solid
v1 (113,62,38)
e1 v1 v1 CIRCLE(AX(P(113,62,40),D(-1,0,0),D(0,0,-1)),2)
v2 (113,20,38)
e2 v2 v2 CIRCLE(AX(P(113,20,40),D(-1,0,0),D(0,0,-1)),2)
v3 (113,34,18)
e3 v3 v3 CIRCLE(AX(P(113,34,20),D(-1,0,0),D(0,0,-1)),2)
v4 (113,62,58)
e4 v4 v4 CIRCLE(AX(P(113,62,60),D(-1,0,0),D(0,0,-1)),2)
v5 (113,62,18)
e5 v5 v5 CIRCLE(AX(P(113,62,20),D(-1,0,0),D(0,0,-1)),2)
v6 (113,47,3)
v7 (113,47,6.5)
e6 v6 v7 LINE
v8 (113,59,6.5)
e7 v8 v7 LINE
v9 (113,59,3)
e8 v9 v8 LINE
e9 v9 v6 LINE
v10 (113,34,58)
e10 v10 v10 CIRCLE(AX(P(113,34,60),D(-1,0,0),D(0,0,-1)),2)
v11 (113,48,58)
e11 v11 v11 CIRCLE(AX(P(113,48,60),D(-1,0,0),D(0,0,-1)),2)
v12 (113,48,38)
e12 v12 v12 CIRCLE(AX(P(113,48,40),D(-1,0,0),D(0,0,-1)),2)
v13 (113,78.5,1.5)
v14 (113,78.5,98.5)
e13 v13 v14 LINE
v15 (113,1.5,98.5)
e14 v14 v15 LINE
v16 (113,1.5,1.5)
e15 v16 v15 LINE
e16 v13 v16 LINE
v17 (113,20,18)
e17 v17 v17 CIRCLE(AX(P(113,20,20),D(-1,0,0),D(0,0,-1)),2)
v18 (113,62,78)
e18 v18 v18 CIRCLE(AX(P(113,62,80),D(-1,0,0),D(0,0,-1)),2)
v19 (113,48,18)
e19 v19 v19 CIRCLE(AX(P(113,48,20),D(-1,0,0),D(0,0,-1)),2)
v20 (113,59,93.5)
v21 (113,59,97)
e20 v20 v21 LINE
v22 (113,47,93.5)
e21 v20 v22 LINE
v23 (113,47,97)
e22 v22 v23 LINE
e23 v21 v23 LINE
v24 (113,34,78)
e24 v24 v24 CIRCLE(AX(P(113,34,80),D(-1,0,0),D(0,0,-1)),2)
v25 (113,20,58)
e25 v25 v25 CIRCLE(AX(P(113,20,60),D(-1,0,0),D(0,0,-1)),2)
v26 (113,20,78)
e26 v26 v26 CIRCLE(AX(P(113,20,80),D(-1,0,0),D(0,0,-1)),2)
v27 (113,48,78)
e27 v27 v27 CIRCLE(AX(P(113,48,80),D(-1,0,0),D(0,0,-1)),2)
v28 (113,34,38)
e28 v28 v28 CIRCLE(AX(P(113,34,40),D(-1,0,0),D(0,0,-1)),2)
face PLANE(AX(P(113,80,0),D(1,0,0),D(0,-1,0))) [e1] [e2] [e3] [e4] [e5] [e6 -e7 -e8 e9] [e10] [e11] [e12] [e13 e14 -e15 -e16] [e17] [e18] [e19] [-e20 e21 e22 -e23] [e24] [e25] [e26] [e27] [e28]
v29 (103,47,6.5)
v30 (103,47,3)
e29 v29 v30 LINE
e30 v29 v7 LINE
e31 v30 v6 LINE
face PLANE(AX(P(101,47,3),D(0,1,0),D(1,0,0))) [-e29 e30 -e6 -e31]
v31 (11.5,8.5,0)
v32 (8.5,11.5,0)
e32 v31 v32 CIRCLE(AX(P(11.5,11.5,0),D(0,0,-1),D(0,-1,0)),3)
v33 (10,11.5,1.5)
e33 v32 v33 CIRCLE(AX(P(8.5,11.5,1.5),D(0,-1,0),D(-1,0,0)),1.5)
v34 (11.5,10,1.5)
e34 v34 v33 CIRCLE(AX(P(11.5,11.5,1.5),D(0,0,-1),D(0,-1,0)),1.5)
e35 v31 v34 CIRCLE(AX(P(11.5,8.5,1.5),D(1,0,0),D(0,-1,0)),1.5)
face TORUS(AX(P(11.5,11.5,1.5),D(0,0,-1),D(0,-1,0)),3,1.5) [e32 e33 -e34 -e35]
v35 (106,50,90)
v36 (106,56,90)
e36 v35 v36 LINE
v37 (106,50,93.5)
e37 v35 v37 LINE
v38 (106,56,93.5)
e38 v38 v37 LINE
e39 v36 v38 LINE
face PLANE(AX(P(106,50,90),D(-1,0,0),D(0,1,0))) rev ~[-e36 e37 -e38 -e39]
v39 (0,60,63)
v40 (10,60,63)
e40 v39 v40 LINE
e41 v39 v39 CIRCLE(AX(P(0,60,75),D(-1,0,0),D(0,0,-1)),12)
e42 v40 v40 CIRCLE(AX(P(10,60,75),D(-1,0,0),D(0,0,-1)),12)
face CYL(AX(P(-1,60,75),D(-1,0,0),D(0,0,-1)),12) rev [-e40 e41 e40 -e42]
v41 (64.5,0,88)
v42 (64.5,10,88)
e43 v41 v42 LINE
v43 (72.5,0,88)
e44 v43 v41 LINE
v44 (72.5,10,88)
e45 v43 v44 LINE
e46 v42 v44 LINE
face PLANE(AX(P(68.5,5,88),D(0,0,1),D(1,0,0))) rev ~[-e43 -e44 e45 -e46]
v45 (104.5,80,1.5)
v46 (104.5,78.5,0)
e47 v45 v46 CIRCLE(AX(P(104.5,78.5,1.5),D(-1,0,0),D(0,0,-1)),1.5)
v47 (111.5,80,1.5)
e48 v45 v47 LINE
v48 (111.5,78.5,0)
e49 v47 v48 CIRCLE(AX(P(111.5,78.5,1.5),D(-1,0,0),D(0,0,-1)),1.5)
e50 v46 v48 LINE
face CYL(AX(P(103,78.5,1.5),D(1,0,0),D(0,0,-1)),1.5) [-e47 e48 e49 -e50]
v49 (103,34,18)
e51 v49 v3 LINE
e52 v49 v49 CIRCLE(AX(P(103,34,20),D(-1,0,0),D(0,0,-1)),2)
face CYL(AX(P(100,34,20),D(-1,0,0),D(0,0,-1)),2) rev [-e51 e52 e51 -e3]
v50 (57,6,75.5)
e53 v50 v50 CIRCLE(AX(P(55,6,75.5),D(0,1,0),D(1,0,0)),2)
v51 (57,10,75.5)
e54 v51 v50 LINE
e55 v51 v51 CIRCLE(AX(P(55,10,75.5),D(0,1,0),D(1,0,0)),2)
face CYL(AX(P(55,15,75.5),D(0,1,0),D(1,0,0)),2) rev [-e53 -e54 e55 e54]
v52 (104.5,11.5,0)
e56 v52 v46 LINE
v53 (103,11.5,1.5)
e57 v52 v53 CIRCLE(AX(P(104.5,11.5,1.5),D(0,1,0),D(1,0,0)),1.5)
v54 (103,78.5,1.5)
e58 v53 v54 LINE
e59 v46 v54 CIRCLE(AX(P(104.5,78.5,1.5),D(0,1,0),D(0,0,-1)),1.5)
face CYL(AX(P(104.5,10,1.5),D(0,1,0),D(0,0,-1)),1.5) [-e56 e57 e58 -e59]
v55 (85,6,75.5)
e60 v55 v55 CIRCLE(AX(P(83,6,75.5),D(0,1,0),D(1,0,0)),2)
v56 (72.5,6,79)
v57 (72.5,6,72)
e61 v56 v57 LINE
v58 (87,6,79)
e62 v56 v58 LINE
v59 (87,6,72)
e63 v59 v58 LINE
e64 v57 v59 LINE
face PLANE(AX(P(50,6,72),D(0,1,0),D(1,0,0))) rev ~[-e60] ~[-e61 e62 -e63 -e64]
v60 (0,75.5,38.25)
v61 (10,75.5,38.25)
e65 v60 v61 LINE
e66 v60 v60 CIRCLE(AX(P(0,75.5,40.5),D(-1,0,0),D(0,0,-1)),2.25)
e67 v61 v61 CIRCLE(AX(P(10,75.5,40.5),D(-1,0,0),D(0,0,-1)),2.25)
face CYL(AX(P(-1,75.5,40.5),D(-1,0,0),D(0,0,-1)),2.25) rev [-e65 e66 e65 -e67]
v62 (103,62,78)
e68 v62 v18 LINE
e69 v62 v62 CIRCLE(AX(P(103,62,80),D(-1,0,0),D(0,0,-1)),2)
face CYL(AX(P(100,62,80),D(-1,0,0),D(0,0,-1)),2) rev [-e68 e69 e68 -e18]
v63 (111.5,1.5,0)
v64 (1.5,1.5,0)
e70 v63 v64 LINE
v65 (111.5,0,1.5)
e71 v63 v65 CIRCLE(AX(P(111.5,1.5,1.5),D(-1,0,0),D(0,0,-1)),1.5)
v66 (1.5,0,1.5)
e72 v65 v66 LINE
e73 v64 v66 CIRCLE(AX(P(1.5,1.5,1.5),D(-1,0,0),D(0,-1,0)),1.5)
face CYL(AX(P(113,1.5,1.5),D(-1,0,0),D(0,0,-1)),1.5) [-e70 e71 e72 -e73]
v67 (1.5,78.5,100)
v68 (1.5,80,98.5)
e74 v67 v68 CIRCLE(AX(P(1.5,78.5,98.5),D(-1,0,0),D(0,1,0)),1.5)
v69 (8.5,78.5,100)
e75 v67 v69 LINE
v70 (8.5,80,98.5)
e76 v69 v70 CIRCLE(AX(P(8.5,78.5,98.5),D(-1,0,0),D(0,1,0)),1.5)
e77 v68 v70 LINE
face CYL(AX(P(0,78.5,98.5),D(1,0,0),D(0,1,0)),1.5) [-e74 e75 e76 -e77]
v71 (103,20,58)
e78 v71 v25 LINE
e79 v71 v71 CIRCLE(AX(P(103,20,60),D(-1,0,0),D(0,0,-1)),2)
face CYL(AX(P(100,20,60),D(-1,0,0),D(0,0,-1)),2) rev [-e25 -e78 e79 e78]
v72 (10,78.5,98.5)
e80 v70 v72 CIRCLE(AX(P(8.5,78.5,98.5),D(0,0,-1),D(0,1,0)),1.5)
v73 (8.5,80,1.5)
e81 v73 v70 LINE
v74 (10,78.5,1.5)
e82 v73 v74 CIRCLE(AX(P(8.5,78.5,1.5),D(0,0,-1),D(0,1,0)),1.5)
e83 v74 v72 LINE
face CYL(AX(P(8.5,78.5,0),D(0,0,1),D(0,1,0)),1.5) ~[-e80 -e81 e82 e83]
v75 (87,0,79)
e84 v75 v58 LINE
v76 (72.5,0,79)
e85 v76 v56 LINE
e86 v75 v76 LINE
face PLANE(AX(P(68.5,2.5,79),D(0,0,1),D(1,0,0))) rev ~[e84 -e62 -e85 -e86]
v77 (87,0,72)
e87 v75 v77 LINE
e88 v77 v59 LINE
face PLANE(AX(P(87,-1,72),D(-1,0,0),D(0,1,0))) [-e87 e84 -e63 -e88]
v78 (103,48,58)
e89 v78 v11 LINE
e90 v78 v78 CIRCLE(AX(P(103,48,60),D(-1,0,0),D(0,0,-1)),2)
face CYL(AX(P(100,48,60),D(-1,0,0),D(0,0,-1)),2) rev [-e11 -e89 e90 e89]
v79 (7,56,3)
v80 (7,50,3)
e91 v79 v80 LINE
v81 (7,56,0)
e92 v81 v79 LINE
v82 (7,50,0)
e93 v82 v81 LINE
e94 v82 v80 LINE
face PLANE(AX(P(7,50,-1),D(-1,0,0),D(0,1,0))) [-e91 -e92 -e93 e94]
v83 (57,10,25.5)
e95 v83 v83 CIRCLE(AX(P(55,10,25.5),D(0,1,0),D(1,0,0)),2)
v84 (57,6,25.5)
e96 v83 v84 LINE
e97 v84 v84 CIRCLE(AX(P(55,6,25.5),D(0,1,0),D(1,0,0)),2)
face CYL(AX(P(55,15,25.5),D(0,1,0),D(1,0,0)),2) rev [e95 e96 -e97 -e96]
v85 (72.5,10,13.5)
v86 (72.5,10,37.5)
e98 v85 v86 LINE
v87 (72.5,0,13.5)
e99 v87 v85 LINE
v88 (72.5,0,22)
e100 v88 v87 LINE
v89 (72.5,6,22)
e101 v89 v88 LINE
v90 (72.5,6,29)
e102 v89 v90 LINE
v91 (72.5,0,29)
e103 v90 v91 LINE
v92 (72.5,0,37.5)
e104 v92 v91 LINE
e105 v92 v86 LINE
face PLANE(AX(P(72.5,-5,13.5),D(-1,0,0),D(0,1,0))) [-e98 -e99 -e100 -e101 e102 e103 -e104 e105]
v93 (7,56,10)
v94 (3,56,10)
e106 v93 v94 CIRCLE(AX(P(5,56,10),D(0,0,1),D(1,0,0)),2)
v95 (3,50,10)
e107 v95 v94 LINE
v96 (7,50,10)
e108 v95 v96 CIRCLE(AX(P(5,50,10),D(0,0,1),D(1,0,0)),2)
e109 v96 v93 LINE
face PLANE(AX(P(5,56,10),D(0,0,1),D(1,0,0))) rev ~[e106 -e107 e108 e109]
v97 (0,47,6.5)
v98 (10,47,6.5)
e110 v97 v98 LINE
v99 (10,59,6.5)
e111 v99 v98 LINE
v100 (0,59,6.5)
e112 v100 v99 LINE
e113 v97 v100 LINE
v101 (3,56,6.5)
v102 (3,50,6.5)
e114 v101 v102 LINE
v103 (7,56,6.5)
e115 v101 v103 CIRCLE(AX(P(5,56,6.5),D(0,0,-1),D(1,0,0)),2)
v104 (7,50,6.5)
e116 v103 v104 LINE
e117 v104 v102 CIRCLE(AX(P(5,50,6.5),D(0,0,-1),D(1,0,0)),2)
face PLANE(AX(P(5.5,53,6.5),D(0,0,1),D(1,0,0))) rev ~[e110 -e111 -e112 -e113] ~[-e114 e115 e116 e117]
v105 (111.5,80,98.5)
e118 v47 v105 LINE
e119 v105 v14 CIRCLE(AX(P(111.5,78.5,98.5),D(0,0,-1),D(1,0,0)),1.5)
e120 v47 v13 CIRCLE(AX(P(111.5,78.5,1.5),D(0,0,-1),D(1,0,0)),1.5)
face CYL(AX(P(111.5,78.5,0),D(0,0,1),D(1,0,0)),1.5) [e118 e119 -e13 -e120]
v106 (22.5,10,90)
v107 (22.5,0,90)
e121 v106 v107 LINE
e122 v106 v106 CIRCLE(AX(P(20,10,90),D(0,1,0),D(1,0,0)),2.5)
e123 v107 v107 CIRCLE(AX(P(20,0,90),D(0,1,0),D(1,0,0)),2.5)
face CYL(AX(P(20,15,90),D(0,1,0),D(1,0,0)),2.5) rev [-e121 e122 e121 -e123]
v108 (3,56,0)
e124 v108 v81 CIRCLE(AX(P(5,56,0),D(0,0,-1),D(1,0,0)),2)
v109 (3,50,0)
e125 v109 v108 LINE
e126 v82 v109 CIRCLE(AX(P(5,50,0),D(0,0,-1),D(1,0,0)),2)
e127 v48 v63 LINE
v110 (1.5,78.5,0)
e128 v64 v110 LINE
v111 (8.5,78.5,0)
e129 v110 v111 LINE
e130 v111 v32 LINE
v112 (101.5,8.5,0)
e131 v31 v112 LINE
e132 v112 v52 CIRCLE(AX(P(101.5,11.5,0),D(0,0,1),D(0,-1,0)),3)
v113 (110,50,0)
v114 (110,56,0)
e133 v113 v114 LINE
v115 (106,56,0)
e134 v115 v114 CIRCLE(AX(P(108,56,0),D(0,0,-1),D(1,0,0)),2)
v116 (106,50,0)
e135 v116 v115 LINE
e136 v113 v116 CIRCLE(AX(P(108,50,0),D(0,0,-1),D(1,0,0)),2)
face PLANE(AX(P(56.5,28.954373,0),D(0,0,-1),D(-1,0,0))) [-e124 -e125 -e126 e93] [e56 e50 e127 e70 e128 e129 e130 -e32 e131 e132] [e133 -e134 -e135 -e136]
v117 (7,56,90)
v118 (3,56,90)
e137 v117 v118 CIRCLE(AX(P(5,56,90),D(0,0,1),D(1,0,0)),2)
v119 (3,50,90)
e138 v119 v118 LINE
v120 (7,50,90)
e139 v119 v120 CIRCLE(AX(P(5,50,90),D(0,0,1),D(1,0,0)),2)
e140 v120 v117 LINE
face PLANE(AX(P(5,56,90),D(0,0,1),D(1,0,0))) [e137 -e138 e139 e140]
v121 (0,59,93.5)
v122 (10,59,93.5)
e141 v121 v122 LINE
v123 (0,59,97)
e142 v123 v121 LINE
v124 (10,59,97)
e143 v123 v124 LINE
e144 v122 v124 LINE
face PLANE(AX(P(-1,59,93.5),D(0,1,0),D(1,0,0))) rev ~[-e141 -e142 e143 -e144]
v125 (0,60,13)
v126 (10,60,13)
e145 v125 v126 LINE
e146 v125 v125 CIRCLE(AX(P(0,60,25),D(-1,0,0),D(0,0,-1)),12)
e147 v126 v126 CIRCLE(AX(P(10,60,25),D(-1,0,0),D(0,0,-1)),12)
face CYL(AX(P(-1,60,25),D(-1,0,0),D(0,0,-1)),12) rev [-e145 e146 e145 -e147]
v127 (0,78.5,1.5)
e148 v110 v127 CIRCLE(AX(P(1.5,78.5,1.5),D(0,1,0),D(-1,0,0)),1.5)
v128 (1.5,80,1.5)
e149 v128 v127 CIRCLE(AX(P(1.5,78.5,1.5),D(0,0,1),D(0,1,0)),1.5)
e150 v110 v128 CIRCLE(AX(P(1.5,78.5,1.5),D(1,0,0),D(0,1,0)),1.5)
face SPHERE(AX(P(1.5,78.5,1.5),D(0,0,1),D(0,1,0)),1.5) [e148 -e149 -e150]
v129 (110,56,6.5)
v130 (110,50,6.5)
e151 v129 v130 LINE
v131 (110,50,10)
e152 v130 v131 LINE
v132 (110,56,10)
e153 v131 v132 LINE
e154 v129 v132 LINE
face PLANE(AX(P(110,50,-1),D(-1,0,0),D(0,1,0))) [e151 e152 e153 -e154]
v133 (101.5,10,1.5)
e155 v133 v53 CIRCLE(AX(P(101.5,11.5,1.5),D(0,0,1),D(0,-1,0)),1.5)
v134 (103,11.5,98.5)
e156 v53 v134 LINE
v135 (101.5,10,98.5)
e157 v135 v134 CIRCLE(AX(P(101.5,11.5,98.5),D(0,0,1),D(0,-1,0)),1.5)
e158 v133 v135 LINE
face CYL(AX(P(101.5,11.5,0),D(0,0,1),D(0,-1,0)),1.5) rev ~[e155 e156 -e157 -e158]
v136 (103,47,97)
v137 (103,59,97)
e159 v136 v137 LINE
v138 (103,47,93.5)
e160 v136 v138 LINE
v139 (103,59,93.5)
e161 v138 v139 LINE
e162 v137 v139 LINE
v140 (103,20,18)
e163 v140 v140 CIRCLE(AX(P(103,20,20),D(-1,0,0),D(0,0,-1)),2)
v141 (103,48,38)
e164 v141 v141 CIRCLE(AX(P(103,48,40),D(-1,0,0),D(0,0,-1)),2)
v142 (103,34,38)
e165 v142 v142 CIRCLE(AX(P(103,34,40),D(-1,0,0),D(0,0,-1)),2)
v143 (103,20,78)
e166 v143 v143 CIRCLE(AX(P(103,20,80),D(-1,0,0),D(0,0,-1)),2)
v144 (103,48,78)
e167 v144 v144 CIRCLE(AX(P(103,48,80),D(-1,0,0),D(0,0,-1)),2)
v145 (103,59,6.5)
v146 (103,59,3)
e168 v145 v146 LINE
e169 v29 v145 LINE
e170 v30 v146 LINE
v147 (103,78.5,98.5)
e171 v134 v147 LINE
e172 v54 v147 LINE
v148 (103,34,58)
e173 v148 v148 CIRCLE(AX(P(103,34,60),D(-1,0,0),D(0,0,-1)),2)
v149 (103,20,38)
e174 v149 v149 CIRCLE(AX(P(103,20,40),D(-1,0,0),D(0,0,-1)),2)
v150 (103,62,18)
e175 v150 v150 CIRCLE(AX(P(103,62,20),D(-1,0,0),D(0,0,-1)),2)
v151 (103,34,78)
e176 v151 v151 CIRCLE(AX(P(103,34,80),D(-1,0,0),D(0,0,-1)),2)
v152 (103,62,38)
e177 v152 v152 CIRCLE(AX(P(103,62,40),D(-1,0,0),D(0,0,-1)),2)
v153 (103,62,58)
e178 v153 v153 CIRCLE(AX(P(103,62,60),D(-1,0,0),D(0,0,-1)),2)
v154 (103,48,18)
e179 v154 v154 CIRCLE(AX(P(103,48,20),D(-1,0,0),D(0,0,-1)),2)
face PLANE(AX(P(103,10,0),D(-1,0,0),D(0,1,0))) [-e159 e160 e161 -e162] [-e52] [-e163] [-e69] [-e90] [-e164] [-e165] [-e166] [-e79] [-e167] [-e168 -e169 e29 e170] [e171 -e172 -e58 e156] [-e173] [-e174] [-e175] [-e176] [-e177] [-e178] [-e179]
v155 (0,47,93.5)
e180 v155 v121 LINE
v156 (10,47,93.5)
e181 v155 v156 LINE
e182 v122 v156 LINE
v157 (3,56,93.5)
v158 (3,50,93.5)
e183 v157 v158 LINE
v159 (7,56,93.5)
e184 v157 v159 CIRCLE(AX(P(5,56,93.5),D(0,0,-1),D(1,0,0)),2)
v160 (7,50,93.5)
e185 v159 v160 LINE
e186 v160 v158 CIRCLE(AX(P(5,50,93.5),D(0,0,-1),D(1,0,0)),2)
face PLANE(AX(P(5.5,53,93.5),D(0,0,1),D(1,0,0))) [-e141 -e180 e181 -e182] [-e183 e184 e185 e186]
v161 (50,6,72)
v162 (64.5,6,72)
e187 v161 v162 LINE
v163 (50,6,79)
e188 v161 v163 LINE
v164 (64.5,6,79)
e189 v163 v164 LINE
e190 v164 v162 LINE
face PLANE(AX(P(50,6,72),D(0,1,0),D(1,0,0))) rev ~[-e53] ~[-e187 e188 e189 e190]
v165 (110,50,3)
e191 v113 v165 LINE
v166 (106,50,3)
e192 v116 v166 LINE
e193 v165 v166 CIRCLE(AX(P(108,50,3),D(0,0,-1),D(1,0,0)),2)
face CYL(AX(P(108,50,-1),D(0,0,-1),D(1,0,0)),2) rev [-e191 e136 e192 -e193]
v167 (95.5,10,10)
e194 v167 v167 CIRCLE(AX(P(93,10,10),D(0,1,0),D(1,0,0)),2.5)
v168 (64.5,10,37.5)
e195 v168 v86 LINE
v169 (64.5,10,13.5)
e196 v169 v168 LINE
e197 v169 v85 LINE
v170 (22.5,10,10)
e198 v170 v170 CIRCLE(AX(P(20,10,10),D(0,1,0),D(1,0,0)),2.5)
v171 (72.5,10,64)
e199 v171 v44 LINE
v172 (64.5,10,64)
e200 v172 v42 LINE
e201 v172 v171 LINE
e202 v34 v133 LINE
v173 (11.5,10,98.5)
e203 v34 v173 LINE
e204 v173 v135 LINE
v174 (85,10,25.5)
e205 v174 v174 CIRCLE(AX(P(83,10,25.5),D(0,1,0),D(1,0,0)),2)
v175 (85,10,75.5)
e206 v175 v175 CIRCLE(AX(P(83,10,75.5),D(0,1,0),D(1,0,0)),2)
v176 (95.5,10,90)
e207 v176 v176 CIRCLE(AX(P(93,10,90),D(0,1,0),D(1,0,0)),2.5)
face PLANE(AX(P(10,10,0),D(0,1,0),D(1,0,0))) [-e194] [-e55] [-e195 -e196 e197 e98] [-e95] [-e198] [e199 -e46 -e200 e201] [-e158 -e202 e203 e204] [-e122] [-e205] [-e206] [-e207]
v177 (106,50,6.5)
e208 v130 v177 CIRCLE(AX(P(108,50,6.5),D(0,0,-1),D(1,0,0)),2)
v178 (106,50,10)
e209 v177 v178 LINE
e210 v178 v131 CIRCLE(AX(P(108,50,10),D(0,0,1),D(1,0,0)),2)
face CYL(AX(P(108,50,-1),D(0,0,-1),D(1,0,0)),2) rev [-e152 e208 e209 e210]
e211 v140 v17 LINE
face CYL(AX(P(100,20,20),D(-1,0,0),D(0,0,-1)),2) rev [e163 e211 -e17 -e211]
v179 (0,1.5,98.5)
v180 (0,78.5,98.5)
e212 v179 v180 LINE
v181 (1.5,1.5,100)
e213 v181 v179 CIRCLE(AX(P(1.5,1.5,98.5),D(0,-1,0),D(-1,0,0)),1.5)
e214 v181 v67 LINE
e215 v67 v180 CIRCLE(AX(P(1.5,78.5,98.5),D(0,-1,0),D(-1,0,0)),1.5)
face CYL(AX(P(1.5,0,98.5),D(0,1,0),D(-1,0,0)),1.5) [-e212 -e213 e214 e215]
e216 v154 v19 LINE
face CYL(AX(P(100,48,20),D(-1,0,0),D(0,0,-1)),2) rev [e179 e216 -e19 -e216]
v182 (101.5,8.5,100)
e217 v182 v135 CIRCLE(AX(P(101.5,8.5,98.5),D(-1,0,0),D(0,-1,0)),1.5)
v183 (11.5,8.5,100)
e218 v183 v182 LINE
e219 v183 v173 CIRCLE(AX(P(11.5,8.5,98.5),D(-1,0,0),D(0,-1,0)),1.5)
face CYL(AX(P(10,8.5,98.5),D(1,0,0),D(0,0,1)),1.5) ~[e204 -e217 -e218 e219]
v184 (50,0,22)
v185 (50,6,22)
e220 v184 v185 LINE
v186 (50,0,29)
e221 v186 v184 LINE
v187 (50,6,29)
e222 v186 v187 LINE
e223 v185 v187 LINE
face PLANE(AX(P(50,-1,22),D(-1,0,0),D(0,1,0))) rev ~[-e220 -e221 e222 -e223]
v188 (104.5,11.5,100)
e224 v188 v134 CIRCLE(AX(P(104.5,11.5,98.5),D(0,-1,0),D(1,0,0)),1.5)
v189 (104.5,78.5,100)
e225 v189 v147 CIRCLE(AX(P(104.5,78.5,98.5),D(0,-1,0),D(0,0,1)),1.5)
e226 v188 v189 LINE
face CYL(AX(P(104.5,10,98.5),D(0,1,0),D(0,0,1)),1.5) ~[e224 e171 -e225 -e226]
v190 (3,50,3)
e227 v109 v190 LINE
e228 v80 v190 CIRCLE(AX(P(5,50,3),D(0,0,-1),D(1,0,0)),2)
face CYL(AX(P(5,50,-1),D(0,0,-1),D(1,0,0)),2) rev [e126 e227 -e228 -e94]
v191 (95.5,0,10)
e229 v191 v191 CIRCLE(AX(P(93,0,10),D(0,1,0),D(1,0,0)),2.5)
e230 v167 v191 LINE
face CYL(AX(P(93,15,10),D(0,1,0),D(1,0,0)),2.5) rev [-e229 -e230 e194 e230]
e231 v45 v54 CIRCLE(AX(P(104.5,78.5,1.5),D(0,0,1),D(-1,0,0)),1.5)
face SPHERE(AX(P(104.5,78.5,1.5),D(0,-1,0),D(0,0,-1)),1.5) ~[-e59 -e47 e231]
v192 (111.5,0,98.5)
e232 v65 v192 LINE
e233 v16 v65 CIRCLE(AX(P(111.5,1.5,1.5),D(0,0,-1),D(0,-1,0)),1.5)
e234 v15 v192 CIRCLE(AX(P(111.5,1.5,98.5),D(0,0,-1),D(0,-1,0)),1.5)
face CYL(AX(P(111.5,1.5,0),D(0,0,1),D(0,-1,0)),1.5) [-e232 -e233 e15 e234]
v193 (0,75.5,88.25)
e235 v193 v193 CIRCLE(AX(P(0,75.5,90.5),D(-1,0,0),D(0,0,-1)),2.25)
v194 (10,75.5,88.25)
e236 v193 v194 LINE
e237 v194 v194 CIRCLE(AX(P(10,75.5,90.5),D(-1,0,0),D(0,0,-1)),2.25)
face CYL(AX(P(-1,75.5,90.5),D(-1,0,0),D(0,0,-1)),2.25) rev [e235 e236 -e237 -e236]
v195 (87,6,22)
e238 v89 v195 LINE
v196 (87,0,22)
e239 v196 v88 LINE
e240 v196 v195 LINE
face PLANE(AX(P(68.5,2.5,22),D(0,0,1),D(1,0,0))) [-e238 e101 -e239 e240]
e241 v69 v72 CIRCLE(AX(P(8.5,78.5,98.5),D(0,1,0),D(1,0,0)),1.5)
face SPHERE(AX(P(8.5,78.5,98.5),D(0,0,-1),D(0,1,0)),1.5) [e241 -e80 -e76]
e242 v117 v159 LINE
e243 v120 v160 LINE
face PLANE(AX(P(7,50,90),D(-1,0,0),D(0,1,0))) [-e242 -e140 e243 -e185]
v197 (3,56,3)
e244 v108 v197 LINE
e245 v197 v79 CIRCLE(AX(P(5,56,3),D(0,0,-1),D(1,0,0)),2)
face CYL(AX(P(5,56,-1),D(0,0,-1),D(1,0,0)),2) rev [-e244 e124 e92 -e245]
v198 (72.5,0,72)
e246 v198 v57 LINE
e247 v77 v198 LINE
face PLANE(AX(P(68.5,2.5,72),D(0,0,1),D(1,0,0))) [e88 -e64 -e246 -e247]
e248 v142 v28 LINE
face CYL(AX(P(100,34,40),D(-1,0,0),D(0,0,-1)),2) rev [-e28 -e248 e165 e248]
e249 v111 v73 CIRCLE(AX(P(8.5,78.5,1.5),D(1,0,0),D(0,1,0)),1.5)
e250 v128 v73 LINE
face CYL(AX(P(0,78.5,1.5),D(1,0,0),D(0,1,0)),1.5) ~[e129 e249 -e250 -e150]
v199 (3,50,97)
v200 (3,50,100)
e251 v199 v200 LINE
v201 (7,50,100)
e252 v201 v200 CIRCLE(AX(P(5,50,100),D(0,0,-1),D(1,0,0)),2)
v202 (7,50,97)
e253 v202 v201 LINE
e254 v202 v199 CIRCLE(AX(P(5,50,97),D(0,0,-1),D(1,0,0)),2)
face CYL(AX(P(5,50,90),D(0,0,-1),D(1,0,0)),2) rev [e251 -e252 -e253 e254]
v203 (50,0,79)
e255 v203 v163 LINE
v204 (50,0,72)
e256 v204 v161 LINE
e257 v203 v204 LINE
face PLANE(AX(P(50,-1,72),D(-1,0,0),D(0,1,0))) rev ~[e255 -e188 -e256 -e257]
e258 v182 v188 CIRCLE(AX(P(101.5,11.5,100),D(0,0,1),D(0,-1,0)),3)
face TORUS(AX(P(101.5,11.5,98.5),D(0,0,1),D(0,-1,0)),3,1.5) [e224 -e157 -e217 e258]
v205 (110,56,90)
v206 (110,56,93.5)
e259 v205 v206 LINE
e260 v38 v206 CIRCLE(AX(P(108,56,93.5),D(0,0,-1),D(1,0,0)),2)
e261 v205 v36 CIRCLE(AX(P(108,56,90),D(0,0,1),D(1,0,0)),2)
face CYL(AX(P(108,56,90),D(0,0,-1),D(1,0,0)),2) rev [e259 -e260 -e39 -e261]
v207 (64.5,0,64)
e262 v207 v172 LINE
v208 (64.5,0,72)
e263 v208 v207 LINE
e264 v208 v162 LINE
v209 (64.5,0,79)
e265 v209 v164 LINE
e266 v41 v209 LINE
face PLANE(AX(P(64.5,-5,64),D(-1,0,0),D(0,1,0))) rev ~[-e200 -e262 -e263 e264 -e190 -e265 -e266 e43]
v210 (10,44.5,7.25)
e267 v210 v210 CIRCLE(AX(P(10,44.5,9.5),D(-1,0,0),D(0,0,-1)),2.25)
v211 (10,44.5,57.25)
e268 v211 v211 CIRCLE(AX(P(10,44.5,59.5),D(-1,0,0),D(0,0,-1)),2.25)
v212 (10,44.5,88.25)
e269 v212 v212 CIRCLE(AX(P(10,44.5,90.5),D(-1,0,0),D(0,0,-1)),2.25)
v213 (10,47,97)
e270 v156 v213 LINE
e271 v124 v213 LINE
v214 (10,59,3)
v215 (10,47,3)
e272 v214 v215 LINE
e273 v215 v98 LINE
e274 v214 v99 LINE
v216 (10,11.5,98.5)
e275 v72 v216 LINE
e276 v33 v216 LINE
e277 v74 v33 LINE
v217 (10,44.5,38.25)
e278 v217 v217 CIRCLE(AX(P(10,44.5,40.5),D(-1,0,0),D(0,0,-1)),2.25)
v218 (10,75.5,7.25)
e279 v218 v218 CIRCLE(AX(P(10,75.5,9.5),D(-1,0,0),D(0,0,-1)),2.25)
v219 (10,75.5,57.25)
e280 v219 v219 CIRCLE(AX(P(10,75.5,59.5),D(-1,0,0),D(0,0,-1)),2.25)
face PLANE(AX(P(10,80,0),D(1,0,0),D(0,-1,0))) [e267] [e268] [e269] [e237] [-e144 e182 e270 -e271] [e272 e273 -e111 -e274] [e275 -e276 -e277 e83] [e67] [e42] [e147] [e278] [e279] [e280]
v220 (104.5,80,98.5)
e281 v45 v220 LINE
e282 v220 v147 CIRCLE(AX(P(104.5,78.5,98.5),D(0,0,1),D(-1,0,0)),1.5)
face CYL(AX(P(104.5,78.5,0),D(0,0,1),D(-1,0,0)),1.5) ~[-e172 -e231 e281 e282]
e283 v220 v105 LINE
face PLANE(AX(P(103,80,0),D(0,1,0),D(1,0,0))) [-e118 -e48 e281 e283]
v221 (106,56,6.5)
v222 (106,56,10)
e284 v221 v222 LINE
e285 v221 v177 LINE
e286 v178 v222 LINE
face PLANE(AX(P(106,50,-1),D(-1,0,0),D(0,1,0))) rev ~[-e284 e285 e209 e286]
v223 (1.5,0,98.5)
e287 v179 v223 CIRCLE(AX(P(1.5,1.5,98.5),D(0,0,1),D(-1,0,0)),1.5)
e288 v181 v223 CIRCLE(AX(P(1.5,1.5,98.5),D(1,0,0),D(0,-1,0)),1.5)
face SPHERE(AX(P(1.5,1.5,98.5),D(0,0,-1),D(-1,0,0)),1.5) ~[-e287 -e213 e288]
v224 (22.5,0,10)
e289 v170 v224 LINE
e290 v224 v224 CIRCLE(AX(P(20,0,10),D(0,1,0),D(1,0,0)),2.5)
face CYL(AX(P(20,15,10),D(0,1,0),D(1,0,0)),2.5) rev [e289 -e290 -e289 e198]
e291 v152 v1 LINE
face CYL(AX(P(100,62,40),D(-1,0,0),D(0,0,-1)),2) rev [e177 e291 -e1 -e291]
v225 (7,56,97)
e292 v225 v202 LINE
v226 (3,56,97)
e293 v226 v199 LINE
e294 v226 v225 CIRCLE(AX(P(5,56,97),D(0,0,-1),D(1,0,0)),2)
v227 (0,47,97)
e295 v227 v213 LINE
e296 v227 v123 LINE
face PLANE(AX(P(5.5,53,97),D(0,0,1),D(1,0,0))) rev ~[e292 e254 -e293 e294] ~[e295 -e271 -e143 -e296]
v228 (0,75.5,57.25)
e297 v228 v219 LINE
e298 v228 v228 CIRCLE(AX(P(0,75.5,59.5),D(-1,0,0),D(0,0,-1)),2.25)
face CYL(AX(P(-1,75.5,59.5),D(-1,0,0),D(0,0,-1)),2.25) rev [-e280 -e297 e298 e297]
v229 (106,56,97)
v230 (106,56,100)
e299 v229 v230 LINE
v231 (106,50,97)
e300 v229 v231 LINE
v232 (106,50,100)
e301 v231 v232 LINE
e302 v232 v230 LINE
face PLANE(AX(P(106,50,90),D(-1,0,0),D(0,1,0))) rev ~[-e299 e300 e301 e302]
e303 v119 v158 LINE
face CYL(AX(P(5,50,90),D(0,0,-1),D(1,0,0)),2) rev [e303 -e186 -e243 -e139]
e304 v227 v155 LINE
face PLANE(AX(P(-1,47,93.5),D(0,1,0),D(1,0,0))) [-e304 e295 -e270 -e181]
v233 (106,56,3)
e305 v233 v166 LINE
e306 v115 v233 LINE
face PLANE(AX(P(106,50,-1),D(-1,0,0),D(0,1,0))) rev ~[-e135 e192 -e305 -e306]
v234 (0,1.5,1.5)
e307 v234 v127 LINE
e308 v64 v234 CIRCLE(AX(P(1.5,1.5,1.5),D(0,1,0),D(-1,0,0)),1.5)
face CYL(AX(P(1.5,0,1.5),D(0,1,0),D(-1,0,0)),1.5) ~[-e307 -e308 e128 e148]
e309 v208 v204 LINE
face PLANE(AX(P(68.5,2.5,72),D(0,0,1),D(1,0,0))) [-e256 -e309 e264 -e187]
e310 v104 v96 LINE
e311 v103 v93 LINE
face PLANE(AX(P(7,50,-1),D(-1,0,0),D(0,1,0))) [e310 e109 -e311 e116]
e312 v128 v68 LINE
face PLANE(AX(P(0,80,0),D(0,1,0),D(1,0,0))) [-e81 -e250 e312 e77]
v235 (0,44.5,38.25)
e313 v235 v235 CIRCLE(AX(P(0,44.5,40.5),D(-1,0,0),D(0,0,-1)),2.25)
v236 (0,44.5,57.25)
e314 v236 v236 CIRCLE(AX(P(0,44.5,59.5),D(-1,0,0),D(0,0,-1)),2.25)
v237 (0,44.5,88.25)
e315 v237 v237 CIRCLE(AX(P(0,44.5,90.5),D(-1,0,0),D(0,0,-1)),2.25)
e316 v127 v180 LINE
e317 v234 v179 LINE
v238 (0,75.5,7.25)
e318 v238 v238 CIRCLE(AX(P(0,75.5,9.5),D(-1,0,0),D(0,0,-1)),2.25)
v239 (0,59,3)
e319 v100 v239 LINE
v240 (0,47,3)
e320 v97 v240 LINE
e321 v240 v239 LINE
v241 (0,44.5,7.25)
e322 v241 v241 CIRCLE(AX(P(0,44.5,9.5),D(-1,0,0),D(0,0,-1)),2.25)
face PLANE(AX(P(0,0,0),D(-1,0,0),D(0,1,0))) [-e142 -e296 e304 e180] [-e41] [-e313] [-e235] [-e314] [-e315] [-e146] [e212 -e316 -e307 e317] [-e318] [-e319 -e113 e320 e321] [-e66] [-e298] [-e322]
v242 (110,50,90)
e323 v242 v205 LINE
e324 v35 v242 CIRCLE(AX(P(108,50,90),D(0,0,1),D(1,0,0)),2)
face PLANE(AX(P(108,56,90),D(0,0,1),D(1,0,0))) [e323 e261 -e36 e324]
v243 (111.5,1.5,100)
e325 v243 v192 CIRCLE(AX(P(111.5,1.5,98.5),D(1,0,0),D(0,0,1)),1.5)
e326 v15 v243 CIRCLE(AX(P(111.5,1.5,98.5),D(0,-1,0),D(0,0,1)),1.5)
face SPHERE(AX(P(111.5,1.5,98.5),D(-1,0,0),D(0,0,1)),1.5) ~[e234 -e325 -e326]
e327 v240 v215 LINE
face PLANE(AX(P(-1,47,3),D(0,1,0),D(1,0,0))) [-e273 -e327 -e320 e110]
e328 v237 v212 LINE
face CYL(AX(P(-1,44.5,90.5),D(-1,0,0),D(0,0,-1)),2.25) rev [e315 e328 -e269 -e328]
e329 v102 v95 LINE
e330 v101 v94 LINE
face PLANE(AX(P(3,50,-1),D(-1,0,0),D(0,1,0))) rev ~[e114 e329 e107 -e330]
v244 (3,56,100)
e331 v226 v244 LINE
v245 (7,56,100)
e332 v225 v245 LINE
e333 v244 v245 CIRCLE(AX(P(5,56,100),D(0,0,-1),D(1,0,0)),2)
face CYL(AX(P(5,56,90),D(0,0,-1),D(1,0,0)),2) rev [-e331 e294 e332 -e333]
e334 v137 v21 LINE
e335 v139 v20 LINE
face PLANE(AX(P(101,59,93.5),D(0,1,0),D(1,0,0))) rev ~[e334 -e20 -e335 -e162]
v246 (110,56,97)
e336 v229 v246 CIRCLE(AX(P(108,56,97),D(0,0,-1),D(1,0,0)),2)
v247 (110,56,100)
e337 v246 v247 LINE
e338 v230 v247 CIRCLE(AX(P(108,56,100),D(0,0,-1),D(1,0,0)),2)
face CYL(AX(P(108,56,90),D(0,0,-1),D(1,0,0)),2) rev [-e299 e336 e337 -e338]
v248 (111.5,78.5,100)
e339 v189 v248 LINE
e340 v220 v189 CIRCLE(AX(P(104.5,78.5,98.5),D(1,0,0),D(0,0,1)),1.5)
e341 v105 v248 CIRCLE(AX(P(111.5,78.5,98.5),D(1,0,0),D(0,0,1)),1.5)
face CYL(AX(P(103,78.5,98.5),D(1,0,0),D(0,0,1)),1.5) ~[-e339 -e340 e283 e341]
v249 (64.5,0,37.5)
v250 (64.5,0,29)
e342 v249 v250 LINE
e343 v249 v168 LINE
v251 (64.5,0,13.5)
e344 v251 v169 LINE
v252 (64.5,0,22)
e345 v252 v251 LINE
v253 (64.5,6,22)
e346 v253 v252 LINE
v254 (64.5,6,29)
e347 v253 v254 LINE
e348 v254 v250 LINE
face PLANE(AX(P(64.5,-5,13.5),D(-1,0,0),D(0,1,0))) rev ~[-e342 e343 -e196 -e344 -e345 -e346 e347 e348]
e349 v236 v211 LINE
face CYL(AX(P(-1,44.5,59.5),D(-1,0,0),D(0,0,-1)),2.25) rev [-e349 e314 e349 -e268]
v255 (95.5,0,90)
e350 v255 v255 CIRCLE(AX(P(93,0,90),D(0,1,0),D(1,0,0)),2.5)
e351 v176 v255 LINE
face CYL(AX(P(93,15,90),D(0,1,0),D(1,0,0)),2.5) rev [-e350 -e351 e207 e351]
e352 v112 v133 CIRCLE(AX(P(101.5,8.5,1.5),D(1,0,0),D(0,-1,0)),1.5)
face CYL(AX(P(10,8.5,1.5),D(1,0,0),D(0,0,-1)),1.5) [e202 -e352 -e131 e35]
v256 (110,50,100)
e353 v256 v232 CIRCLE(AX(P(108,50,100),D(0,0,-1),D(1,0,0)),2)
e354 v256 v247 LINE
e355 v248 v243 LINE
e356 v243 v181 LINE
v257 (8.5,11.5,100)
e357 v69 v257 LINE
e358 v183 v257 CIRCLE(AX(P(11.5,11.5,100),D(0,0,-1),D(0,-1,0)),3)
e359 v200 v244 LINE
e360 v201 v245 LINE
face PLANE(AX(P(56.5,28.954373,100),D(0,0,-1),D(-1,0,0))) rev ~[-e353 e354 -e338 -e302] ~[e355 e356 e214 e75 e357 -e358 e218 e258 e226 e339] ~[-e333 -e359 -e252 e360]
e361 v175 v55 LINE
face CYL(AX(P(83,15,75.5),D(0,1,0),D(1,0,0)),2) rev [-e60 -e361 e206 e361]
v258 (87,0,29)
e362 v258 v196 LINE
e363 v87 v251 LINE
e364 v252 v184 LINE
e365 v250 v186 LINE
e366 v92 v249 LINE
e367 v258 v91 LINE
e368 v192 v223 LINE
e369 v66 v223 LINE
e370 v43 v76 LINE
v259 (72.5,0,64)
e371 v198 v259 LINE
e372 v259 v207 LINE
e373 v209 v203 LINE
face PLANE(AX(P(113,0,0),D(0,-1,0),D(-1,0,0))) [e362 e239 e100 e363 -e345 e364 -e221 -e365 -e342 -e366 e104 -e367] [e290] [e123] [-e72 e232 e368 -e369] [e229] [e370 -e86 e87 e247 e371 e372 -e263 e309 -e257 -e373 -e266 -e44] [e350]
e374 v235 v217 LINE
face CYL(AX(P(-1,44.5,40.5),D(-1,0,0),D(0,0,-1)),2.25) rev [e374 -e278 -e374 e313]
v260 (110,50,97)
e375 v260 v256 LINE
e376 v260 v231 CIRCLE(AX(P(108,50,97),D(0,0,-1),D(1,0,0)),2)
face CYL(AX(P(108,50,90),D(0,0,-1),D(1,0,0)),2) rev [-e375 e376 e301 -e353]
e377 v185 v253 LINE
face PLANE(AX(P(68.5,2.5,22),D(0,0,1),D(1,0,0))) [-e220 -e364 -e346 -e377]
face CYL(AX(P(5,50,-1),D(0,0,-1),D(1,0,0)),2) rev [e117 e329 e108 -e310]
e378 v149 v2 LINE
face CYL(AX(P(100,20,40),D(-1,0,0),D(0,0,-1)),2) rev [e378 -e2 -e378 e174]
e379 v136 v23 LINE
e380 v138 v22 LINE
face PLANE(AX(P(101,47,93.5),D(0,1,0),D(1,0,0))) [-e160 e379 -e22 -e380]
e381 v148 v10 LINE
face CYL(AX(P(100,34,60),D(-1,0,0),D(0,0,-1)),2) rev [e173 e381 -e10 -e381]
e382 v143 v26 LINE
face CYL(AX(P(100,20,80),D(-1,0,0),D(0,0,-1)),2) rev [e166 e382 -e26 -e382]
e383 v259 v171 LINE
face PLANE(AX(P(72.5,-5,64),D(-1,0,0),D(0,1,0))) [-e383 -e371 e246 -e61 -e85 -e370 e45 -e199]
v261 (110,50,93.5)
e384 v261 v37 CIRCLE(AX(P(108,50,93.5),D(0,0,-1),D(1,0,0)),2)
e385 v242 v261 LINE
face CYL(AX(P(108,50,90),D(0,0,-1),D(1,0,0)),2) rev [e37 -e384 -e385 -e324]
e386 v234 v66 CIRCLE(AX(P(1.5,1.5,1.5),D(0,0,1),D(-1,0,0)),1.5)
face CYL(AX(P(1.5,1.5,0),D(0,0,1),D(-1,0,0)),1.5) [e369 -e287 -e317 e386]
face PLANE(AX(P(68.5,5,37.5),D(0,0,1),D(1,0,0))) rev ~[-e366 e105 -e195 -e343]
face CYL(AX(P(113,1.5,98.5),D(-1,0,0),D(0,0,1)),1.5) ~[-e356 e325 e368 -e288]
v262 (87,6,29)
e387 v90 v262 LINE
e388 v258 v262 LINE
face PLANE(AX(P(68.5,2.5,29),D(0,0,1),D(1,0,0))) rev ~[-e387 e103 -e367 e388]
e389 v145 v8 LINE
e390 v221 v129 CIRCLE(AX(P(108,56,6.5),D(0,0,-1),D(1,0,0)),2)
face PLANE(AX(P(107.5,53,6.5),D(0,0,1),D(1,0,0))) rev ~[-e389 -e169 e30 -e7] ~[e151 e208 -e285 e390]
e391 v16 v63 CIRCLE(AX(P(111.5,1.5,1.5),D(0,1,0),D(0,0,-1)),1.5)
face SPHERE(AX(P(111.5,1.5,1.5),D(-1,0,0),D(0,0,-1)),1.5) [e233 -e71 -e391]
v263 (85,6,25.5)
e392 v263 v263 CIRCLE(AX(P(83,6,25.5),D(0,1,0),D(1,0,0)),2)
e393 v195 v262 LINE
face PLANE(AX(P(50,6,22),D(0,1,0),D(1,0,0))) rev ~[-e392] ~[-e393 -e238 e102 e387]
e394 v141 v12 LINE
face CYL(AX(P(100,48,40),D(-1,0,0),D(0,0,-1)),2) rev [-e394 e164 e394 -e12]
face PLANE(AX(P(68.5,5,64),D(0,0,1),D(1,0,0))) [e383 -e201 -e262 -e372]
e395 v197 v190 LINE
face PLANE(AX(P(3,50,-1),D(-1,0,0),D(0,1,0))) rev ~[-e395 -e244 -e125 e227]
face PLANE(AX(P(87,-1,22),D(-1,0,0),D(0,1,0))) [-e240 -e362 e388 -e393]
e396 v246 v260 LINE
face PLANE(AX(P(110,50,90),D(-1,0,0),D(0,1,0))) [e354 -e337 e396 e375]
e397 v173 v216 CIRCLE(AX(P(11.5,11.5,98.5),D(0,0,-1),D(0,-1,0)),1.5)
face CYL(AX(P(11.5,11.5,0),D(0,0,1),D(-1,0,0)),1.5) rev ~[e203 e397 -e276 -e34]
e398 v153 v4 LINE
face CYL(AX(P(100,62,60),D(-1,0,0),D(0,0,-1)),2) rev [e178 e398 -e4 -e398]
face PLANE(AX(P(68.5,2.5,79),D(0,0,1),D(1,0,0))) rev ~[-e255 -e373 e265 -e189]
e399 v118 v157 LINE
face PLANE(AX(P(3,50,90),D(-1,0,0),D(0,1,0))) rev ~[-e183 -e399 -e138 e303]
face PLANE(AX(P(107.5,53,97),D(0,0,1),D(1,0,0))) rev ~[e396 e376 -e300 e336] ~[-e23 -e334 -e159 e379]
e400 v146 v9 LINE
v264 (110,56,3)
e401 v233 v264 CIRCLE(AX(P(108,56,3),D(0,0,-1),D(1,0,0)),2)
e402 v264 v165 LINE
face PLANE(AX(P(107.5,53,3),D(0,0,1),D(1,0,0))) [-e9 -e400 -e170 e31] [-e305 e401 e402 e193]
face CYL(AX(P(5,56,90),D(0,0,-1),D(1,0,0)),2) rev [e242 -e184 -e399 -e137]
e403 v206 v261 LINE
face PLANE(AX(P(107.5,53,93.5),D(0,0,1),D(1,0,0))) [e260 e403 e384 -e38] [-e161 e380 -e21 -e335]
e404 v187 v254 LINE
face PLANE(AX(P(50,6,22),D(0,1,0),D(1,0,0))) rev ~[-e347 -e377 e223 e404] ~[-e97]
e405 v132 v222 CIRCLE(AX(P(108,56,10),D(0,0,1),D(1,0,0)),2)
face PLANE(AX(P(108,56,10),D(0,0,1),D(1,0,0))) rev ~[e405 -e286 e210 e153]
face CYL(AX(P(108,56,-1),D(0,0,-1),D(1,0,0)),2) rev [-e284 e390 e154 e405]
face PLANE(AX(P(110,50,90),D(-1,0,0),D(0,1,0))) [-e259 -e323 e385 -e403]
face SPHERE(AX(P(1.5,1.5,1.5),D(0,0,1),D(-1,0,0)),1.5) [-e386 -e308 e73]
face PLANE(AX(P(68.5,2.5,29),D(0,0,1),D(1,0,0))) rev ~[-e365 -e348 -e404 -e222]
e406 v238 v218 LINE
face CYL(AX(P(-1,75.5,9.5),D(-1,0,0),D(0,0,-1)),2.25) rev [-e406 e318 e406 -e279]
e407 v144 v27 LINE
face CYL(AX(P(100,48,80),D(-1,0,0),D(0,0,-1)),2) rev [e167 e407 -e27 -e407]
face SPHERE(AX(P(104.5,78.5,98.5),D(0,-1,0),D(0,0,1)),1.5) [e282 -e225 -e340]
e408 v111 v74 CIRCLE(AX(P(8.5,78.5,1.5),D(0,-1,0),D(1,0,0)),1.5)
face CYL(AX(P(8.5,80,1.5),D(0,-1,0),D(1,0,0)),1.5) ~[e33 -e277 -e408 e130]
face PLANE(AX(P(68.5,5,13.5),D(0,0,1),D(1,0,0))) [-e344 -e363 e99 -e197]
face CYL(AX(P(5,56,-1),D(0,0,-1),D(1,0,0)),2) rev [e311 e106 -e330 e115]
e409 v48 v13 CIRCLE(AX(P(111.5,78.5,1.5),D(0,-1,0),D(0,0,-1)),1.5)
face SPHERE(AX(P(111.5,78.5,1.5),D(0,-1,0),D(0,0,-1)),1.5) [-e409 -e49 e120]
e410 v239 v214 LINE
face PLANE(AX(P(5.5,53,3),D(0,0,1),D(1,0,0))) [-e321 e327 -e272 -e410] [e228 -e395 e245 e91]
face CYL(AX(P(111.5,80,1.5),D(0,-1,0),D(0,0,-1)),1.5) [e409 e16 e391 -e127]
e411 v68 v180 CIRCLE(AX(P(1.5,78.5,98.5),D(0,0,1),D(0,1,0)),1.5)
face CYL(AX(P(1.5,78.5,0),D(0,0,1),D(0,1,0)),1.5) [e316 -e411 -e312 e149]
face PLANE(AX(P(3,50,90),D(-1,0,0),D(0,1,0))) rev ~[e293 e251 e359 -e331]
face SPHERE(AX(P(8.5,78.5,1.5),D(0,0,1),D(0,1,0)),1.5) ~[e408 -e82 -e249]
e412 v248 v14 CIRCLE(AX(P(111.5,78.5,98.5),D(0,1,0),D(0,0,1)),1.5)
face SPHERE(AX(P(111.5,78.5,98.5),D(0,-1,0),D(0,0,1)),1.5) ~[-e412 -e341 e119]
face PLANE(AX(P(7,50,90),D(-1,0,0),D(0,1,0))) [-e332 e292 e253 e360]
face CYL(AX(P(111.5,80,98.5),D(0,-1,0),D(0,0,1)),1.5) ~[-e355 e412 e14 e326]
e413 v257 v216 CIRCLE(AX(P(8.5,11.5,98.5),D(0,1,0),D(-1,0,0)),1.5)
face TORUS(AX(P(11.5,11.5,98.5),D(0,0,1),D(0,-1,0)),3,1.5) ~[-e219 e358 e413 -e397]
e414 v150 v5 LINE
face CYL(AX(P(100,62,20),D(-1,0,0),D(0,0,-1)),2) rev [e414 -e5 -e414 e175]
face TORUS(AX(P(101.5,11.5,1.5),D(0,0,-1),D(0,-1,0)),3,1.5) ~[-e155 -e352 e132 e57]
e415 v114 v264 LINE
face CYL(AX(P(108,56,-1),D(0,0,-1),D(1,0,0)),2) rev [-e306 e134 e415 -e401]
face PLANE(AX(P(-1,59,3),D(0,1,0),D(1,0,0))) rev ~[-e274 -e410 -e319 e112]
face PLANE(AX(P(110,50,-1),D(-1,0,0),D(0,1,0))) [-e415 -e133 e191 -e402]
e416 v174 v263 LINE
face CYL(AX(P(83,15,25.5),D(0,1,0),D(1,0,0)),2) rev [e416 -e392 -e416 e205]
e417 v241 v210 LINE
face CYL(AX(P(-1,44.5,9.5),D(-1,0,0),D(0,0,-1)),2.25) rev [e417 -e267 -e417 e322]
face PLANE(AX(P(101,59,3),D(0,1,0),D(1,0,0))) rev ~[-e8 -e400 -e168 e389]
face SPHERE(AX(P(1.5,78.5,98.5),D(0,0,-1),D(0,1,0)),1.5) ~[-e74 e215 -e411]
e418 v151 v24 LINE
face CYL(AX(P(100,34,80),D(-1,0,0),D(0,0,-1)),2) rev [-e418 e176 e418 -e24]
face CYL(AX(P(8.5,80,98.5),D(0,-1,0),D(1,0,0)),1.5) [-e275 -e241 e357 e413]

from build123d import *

# Parameters (mm, degrees)
BOX003_W                = 37
BOX003_H                = 7
BOX003_DEPTH            = 7
CYLINDER001_R           = 2
CYLINDER001_DEPTH       = 20
CYLINDER001_ROLL_ANGLE  = 90
ARRAY001_X_COUNT        = 2
ARRAY001_X_PITCH        = 28
ARRAY001_Z_COUNT        = 2
ARRAY001_Z_PITCH        = 50
BOX004_W                = 13
BOX004_H                = 12
BOX004_DEPTH            = 3.5
ARRAY003_X_COUNT        = 2
ARRAY003_X_PITCH        = 102
ARRAY003_Z_COUNT        = 2
ARRAY003_Z_PITCH        = 90.5
BOX002_W                = 37
BOX002_H                = 7
BOX002_DEPTH            = 7
BOX005_W                = 4
BOX005_H                = 6
BOX005_DEPTH            = 11
CYLINDER004_R           = 2
CYLINDER004_DEPTH       = 11
CYLINDER003_R           = 2
CYLINDER003_DEPTH       = 11
ARRAY004_X_COUNT        = 2
ARRAY004_X_PITCH        = 103
ARRAY004_Z_COUNT        = 2
ARRAY004_Z_PITCH        = 91
CYLINDER007_R           = 12
CYLINDER007_DEPTH       = 12
CYLINDER007_PITCH_ANGLE = 90
CYLINDER006_R           = 2.25
CYLINDER006_DEPTH       = 12
CYLINDER006_PITCH_ANGLE = 90
ARRAY006_Y_COUNT        = 2
ARRAY006_Y_PITCH        = 31
ARRAY006_Z_COUNT        = 2
ARRAY006_Z_PITCH        = 31
CYLINDER005_R           = 12
CYLINDER005_DEPTH       = 12
CYLINDER005_PITCH_ANGLE = 90
ARRAY005_Y_COUNT        = 2
ARRAY005_Y_PITCH        = 31
ARRAY005_Z_COUNT        = 2
ARRAY005_Z_PITCH        = 31
CYLINDER002_R           = 2
CYLINDER002_DEPTH       = 20
CYLINDER002_PITCH_ANGLE = 90
ARRAY002_Y_COUNT        = 4
ARRAY002_Y_PITCH        = 14
ARRAY002_Z_COUNT        = 4
ARRAY002_Z_PITCH        = 20
CYLINDER_R              = 2.5
CYLINDER_DEPTH          = 20
CYLINDER_ROLL_ANGLE     = 90
ARRAY_X_COUNT           = 2
ARRAY_X_PITCH           = 73
ARRAY_Z_COUNT           = 2
ARRAY_Z_PITCH           = 80
BOX001_W                = 8
BOX001_H                = 20
BOX001_DEPTH            = 24
BOX_W                   = 8
BOX_H                   = 20
BOX_DEPTH               = 24
EXTRUDE001_DEPTH        = 100
FILLET_R                = 1.5


with BuildPart() as h_bearing_up_h:
    # Box003 → Box003 (new body)
    with BuildSketch(Plane(origin=(50, -1, 72), x_dir=(1, 0, 0), z_dir=(0, 0, 1))):
        with Locations((18.5, 3.5)):
            Rectangle(BOX003_W, BOX003_H)
    extrude(amount=BOX003_DEPTH)


with BuildPart() as h_bearing_bolt:
    # Cylinder001 → Cylinder001 (new body)
    with BuildSketch(Plane.XY):
        Circle(CYLINDER001_R)
    extrude(amount=CYLINDER001_DEPTH)


with BuildPart() as h_bearing_bolt_1:
    # Cylinder001 roll: moved
    add(h_bearing_bolt.part.rotate(Axis((0, 0, 0), (1, 0, 0)), CYLINDER001_ROLL_ANGLE))


with BuildPart() as h_bearing_bolt_2:
    # Cylinder001 placement: moved
    add(h_bearing_bolt_1.part.moved(Location((55, 15, 25.5))))

    # Array001 X: h_bearing_bolt ×2


with BuildPart() as h_bearing_bolt_3:
    add(h_bearing_bolt_2.part)
    with Locations(*[(i * ARRAY001_X_PITCH, 0, 0) for i in range(1, ARRAY001_X_COUNT)]):
        add(h_bearing_bolt_2.part)

    # Array001 Z: h_bearing_bolt ×2


with BuildPart() as h_bearing_bolt_4:
    add(h_bearing_bolt_3.part)
    with Locations(*[(0, 0, i * ARRAY001_Z_PITCH) for i in range(1, ARRAY001_Z_COUNT)]):
        add(h_bearing_bolt_3.part)


with BuildPart() as h_nut_union001:
    # Box004 → Box004 (new body)
    with BuildSketch(Plane(origin=(-1, 47, 3), x_dir=(1, 0, 0), z_dir=(0, 0, 1))):
        with Locations((6.5, 6)):
            Rectangle(BOX004_W, BOX004_H)
    extrude(amount=BOX004_DEPTH)

    # Array003 X: h_nut_union001 ×2


with BuildPart() as h_nut_union001_1:
    add(h_nut_union001.part)
    with Locations(*[(i * ARRAY003_X_PITCH, 0, 0) for i in range(1, ARRAY003_X_COUNT)]):
        add(h_nut_union001.part)

    # Array003 Z: h_nut_union001 ×2


with BuildPart() as h_nut_union001_2:
    add(h_nut_union001_1.part)
    with Locations(*[(0, 0, i * ARRAY003_Z_PITCH) for i in range(1, ARRAY003_Z_COUNT)]):
        add(h_nut_union001_1.part)


with BuildPart() as h_bearing_dn_h:
    # Box002 → Box002 (new body)
    with BuildSketch(Plane(origin=(50, -1, 22), x_dir=(1, 0, 0), z_dir=(0, 0, 1))):
        with Locations((18.5, 3.5)):
            Rectangle(BOX002_W, BOX002_H)
    extrude(amount=BOX002_DEPTH)


with BuildPart() as h_bolt_union002:
    # Box005 → Box005 (new body)
    with BuildSketch(Plane(origin=(3, 50, -1), x_dir=(1, 0, 0), z_dir=(0, 0, 1))):
        with Locations((2, 3)):
            Rectangle(BOX005_W, BOX005_H)
    extrude(amount=BOX005_DEPTH)


with BuildPart() as h_bolt_union001:
    # Cylinder004 → Cylinder004 (new body)
    with BuildSketch(Plane(origin=(5, 56, -1), x_dir=(1, 0, 0), z_dir=(0, 0, 1))):
        Circle(CYLINDER004_R)
    extrude(amount=CYLINDER004_DEPTH)


with BuildPart() as h_bolt_union004:
    # Cylinder003 → Cylinder003 (new body)
    with BuildSketch(Plane(origin=(5, 50, -1), x_dir=(1, 0, 0), z_dir=(0, 0, 1))):
        Circle(CYLINDER003_R)
    extrude(amount=CYLINDER003_DEPTH)

    # Fusion: union h_bolt_union002, h_bolt_union001
    add(h_bolt_union002.part)
    add(h_bolt_union001.part)

    # Array004 X: h_bolt_union004 ×2


with BuildPart() as h_bolt_union004_1:
    add(h_bolt_union004.part)
    with Locations(*[(i * ARRAY004_X_PITCH, 0, 0) for i in range(1, ARRAY004_X_COUNT)]):
        add(h_bolt_union004.part)

    # Array004 Z: h_bolt_union004 ×2


with BuildPart() as h_bolt_union004_2:
    add(h_bolt_union004_1.part)
    with Locations(*[(0, 0, i * ARRAY004_Z_PITCH) for i in range(1, ARRAY004_Z_COUNT)]):
        add(h_bolt_union004_1.part)


with BuildPart() as h_motor_axis001:
    # Cylinder007 → Cylinder007 (new body)
    with BuildSketch(Plane.XY):
        Circle(CYLINDER007_R)
    extrude(amount=CYLINDER007_DEPTH)


with BuildPart() as h_motor_axis001_1:
    # Cylinder007 pitch: moved
    add(h_motor_axis001.part.rotate(Axis((0, 0, 0), (0, 1, 0)), CYLINDER007_PITCH_ANGLE))


with BuildPart() as h_motor_axis001_2:
    # Cylinder007 placement: moved
    add(h_motor_axis001_1.part.moved(Location((-1, 60, 25))))


with BuildPart() as h_bolt_motor:
    # Cylinder006 → Cylinder006 (new body)
    with BuildSketch(Plane.XY):
        Circle(CYLINDER006_R)
    extrude(amount=CYLINDER006_DEPTH)


with BuildPart() as h_bolt_motor_1:
    # Cylinder006 pitch: moved
    add(h_bolt_motor.part.rotate(Axis((0, 0, 0), (0, 1, 0)), CYLINDER006_PITCH_ANGLE))


with BuildPart() as h_bolt_motor_2:
    # Cylinder006 placement: moved
    add(h_bolt_motor_1.part.moved(Location((-1, 44.5, 9.5))))


with BuildPart() as h_holes_motor_dn:
    # Array006 base: copy of h_bolt_motor
    add(h_bolt_motor_2.part)

    # Array006 Y: h_holes_motor_dn ×2


with BuildPart() as h_holes_motor_dn_1:
    add(h_holes_motor_dn.part)
    with Locations(*[(0, i * ARRAY006_Y_PITCH, 0) for i in range(1, ARRAY006_Y_COUNT)]):
        add(h_holes_motor_dn.part)

    # Array006 Z: h_holes_motor_dn ×2


with BuildPart() as h_holes_motor_dn_2:
    add(h_holes_motor_dn_1.part)
    with Locations(*[(0, 0, i * ARRAY006_Z_PITCH) for i in range(1, ARRAY006_Z_COUNT)]):
        add(h_holes_motor_dn_1.part)

    # Fusion002: union h_motor_axis001
    add(h_motor_axis001_2.part)


with BuildPart() as h_motor_axis:
    # Cylinder005 → Cylinder005 (new body)
    with BuildSketch(Plane.XY):
        Circle(CYLINDER005_R)
    extrude(amount=CYLINDER005_DEPTH)


with BuildPart() as h_motor_axis_1:
    # Cylinder005 pitch: moved
    add(h_motor_axis.part.rotate(Axis((0, 0, 0), (0, 1, 0)), CYLINDER005_PITCH_ANGLE))


with BuildPart() as h_motor_axis_2:
    # Cylinder005 placement: moved
    add(h_motor_axis_1.part.moved(Location((-1, 60, 25))))


with BuildPart() as h_holes_motor_up:
    # Array005 base: copy of h_bolt_motor
    add(h_bolt_motor_2.part)

    # Array005 Y: h_holes_motor_up ×2


with BuildPart() as h_holes_motor_up_1:
    add(h_holes_motor_up.part)
    with Locations(*[(0, i * ARRAY005_Y_PITCH, 0) for i in range(1, ARRAY005_Y_COUNT)]):
        add(h_holes_motor_up.part)

    # Array005 Z: h_holes_motor_up ×2


with BuildPart() as h_holes_motor_up_2:
    add(h_holes_motor_up_1.part)
    with Locations(*[(0, 0, i * ARRAY005_Z_PITCH) for i in range(1, ARRAY005_Z_COUNT)]):
        add(h_holes_motor_up_1.part)

    # Fusion001: union h_motor_axis
    add(h_motor_axis_2.part)


with BuildPart() as h_holes_motor_up_3:
    # Fusion001 placement: moved
    add(h_holes_motor_up_2.part.moved(Location((0, 0, 50))))


with BuildPart() as h_front_holes:
    # Cylinder002 → Cylinder002 (new body)
    with BuildSketch(Plane.XY):
        Circle(CYLINDER002_R)
    extrude(amount=CYLINDER002_DEPTH)


with BuildPart() as h_front_holes_1:
    # Cylinder002 pitch: moved
    add(h_front_holes.part.rotate(Axis((0, 0, 0), (0, 1, 0)), CYLINDER002_PITCH_ANGLE))


with BuildPart() as h_front_holes_2:
    # Cylinder002 placement: moved
    add(h_front_holes_1.part.moved(Location((100, 20, 20))))

    # Array002 Y: h_front_holes ×4


with BuildPart() as h_front_holes_3:
    add(h_front_holes_2.part)
    with Locations(*[(0, i * ARRAY002_Y_PITCH, 0) for i in range(1, ARRAY002_Y_COUNT)]):
        add(h_front_holes_2.part)

    # Array002 Z: h_front_holes ×4


with BuildPart() as h_front_holes_4:
    add(h_front_holes_3.part)
    with Locations(*[(0, 0, i * ARRAY002_Z_PITCH) for i in range(1, ARRAY002_Z_COUNT)]):
        add(h_front_holes_3.part)


with BuildPart() as h_holes_extra_up:
    # Cylinder → Cylinder (new body)
    with BuildSketch(Plane.XY):
        Circle(CYLINDER_R)
    extrude(amount=CYLINDER_DEPTH)


with BuildPart() as h_holes_extra_up_1:
    # Cylinder roll: moved
    add(h_holes_extra_up.part.rotate(Axis((0, 0, 0), (1, 0, 0)), CYLINDER_ROLL_ANGLE))


with BuildPart() as h_holes_extra_up_2:
    # Cylinder placement: moved
    add(h_holes_extra_up_1.part.moved(Location((20, 15, 10))))

    # Array X: h_holes_extra_up ×2


with BuildPart() as h_holes_extra_up_3:
    add(h_holes_extra_up_2.part)
    with Locations(*[(i * ARRAY_X_PITCH, 0, 0) for i in range(1, ARRAY_X_COUNT)]):
        add(h_holes_extra_up_2.part)

    # Array Z: h_holes_extra_up ×2


with BuildPart() as h_holes_extra_up_4:
    add(h_holes_extra_up_3.part)
    with Locations(*[(0, 0, i * ARRAY_Z_PITCH) for i in range(1, ARRAY_Z_COUNT)]):
        add(h_holes_extra_up_3.part)


with BuildPart() as h_bearing_dn_v:
    # Box001 → Box001 (new body)
    with BuildSketch(Plane(origin=(64.5, -5, 13.5), x_dir=(1, 0, 0), z_dir=(0, 0, 1))):
        with Locations((4, 10)):
            Rectangle(BOX001_W, BOX001_H)
    extrude(amount=BOX001_DEPTH)


with BuildPart() as holes:
    # Box → Box (new body)
    with BuildSketch(Plane(origin=(64.5, -5, 64), x_dir=(1, 0, 0), z_dir=(0, 0, 1))):
        with Locations((4, 10)):
            Rectangle(BOX_W, BOX_H)
    extrude(amount=BOX_DEPTH)

    # Fusion003: union h_bearing_up_h, h_bearing_bolt, h_nut_union001, h_bearing_dn_h, h_bolt_union004, h_holes_motor_dn, h_holes_motor_up, h_front_holes, h_holes_extra_up, h_bearing_dn_v
    add(h_bearing_up_h.part)
    add(h_bearing_bolt_4.part)
    add(h_nut_union001_2.part)
    add(h_bearing_dn_h.part)
    add(h_bolt_union004_2.part)
    add(h_holes_motor_dn_2.part)
    add(h_holes_motor_up_3.part)
    add(h_front_holes_4.part)
    add(h_holes_extra_up_4.part)
    add(h_bearing_dn_v.part)


with BuildPart() as fillet_body:
    # Sketch → Extrude001 (new body)
    with BuildSketch(Plane.XY):
        Polygon((-56.5, 80), (-46.5, 80), (-46.5, 10), (46.5, 10), (46.5, 80), (56.5, 80), (56.5, 0), (-56.5, 0), align=None)
    extrude(amount=EXTRUDE001_DEPTH)


with BuildPart() as fillet_body_1:
    # Extrude001 placement: moved
    add(fillet_body.part.moved(Location((56.5, 0, 0))))

    # Cut: cut holes
    add(holes.part, mode=Mode.SUBTRACT)

    # Fillet
    fillet_edges = [fillet_body_1.edges().sort_by_distance(p)[0] for p in [
        (0, 80, 50),
        (10, 80, 50),
        (5, 80, 0),
        (5, 80, 100),
        (0, 0, 50),
        (0, 40, 0),
        (0, 40, 100),
        (10, 45, 0),
        (10, 45, 100),
        (10, 10, 50),
        (56.5, 0, 0),
        (56.5, 10, 0),
        (113, 40, 0),
        (103, 45, 0),
        (108, 80, 0),
        (56.5, 0, 100),
        (56.5, 10, 100),
        (113, 40, 100),
        (103, 45, 100),
        (108, 80, 100),
        (113, 0, 50),
        (103, 10, 50),
        (113, 80, 50),
        (103, 80, 50),
    ]]
    fillet(fillet_edges, radius=FILLET_R)


solid = fillet_body_1.part
